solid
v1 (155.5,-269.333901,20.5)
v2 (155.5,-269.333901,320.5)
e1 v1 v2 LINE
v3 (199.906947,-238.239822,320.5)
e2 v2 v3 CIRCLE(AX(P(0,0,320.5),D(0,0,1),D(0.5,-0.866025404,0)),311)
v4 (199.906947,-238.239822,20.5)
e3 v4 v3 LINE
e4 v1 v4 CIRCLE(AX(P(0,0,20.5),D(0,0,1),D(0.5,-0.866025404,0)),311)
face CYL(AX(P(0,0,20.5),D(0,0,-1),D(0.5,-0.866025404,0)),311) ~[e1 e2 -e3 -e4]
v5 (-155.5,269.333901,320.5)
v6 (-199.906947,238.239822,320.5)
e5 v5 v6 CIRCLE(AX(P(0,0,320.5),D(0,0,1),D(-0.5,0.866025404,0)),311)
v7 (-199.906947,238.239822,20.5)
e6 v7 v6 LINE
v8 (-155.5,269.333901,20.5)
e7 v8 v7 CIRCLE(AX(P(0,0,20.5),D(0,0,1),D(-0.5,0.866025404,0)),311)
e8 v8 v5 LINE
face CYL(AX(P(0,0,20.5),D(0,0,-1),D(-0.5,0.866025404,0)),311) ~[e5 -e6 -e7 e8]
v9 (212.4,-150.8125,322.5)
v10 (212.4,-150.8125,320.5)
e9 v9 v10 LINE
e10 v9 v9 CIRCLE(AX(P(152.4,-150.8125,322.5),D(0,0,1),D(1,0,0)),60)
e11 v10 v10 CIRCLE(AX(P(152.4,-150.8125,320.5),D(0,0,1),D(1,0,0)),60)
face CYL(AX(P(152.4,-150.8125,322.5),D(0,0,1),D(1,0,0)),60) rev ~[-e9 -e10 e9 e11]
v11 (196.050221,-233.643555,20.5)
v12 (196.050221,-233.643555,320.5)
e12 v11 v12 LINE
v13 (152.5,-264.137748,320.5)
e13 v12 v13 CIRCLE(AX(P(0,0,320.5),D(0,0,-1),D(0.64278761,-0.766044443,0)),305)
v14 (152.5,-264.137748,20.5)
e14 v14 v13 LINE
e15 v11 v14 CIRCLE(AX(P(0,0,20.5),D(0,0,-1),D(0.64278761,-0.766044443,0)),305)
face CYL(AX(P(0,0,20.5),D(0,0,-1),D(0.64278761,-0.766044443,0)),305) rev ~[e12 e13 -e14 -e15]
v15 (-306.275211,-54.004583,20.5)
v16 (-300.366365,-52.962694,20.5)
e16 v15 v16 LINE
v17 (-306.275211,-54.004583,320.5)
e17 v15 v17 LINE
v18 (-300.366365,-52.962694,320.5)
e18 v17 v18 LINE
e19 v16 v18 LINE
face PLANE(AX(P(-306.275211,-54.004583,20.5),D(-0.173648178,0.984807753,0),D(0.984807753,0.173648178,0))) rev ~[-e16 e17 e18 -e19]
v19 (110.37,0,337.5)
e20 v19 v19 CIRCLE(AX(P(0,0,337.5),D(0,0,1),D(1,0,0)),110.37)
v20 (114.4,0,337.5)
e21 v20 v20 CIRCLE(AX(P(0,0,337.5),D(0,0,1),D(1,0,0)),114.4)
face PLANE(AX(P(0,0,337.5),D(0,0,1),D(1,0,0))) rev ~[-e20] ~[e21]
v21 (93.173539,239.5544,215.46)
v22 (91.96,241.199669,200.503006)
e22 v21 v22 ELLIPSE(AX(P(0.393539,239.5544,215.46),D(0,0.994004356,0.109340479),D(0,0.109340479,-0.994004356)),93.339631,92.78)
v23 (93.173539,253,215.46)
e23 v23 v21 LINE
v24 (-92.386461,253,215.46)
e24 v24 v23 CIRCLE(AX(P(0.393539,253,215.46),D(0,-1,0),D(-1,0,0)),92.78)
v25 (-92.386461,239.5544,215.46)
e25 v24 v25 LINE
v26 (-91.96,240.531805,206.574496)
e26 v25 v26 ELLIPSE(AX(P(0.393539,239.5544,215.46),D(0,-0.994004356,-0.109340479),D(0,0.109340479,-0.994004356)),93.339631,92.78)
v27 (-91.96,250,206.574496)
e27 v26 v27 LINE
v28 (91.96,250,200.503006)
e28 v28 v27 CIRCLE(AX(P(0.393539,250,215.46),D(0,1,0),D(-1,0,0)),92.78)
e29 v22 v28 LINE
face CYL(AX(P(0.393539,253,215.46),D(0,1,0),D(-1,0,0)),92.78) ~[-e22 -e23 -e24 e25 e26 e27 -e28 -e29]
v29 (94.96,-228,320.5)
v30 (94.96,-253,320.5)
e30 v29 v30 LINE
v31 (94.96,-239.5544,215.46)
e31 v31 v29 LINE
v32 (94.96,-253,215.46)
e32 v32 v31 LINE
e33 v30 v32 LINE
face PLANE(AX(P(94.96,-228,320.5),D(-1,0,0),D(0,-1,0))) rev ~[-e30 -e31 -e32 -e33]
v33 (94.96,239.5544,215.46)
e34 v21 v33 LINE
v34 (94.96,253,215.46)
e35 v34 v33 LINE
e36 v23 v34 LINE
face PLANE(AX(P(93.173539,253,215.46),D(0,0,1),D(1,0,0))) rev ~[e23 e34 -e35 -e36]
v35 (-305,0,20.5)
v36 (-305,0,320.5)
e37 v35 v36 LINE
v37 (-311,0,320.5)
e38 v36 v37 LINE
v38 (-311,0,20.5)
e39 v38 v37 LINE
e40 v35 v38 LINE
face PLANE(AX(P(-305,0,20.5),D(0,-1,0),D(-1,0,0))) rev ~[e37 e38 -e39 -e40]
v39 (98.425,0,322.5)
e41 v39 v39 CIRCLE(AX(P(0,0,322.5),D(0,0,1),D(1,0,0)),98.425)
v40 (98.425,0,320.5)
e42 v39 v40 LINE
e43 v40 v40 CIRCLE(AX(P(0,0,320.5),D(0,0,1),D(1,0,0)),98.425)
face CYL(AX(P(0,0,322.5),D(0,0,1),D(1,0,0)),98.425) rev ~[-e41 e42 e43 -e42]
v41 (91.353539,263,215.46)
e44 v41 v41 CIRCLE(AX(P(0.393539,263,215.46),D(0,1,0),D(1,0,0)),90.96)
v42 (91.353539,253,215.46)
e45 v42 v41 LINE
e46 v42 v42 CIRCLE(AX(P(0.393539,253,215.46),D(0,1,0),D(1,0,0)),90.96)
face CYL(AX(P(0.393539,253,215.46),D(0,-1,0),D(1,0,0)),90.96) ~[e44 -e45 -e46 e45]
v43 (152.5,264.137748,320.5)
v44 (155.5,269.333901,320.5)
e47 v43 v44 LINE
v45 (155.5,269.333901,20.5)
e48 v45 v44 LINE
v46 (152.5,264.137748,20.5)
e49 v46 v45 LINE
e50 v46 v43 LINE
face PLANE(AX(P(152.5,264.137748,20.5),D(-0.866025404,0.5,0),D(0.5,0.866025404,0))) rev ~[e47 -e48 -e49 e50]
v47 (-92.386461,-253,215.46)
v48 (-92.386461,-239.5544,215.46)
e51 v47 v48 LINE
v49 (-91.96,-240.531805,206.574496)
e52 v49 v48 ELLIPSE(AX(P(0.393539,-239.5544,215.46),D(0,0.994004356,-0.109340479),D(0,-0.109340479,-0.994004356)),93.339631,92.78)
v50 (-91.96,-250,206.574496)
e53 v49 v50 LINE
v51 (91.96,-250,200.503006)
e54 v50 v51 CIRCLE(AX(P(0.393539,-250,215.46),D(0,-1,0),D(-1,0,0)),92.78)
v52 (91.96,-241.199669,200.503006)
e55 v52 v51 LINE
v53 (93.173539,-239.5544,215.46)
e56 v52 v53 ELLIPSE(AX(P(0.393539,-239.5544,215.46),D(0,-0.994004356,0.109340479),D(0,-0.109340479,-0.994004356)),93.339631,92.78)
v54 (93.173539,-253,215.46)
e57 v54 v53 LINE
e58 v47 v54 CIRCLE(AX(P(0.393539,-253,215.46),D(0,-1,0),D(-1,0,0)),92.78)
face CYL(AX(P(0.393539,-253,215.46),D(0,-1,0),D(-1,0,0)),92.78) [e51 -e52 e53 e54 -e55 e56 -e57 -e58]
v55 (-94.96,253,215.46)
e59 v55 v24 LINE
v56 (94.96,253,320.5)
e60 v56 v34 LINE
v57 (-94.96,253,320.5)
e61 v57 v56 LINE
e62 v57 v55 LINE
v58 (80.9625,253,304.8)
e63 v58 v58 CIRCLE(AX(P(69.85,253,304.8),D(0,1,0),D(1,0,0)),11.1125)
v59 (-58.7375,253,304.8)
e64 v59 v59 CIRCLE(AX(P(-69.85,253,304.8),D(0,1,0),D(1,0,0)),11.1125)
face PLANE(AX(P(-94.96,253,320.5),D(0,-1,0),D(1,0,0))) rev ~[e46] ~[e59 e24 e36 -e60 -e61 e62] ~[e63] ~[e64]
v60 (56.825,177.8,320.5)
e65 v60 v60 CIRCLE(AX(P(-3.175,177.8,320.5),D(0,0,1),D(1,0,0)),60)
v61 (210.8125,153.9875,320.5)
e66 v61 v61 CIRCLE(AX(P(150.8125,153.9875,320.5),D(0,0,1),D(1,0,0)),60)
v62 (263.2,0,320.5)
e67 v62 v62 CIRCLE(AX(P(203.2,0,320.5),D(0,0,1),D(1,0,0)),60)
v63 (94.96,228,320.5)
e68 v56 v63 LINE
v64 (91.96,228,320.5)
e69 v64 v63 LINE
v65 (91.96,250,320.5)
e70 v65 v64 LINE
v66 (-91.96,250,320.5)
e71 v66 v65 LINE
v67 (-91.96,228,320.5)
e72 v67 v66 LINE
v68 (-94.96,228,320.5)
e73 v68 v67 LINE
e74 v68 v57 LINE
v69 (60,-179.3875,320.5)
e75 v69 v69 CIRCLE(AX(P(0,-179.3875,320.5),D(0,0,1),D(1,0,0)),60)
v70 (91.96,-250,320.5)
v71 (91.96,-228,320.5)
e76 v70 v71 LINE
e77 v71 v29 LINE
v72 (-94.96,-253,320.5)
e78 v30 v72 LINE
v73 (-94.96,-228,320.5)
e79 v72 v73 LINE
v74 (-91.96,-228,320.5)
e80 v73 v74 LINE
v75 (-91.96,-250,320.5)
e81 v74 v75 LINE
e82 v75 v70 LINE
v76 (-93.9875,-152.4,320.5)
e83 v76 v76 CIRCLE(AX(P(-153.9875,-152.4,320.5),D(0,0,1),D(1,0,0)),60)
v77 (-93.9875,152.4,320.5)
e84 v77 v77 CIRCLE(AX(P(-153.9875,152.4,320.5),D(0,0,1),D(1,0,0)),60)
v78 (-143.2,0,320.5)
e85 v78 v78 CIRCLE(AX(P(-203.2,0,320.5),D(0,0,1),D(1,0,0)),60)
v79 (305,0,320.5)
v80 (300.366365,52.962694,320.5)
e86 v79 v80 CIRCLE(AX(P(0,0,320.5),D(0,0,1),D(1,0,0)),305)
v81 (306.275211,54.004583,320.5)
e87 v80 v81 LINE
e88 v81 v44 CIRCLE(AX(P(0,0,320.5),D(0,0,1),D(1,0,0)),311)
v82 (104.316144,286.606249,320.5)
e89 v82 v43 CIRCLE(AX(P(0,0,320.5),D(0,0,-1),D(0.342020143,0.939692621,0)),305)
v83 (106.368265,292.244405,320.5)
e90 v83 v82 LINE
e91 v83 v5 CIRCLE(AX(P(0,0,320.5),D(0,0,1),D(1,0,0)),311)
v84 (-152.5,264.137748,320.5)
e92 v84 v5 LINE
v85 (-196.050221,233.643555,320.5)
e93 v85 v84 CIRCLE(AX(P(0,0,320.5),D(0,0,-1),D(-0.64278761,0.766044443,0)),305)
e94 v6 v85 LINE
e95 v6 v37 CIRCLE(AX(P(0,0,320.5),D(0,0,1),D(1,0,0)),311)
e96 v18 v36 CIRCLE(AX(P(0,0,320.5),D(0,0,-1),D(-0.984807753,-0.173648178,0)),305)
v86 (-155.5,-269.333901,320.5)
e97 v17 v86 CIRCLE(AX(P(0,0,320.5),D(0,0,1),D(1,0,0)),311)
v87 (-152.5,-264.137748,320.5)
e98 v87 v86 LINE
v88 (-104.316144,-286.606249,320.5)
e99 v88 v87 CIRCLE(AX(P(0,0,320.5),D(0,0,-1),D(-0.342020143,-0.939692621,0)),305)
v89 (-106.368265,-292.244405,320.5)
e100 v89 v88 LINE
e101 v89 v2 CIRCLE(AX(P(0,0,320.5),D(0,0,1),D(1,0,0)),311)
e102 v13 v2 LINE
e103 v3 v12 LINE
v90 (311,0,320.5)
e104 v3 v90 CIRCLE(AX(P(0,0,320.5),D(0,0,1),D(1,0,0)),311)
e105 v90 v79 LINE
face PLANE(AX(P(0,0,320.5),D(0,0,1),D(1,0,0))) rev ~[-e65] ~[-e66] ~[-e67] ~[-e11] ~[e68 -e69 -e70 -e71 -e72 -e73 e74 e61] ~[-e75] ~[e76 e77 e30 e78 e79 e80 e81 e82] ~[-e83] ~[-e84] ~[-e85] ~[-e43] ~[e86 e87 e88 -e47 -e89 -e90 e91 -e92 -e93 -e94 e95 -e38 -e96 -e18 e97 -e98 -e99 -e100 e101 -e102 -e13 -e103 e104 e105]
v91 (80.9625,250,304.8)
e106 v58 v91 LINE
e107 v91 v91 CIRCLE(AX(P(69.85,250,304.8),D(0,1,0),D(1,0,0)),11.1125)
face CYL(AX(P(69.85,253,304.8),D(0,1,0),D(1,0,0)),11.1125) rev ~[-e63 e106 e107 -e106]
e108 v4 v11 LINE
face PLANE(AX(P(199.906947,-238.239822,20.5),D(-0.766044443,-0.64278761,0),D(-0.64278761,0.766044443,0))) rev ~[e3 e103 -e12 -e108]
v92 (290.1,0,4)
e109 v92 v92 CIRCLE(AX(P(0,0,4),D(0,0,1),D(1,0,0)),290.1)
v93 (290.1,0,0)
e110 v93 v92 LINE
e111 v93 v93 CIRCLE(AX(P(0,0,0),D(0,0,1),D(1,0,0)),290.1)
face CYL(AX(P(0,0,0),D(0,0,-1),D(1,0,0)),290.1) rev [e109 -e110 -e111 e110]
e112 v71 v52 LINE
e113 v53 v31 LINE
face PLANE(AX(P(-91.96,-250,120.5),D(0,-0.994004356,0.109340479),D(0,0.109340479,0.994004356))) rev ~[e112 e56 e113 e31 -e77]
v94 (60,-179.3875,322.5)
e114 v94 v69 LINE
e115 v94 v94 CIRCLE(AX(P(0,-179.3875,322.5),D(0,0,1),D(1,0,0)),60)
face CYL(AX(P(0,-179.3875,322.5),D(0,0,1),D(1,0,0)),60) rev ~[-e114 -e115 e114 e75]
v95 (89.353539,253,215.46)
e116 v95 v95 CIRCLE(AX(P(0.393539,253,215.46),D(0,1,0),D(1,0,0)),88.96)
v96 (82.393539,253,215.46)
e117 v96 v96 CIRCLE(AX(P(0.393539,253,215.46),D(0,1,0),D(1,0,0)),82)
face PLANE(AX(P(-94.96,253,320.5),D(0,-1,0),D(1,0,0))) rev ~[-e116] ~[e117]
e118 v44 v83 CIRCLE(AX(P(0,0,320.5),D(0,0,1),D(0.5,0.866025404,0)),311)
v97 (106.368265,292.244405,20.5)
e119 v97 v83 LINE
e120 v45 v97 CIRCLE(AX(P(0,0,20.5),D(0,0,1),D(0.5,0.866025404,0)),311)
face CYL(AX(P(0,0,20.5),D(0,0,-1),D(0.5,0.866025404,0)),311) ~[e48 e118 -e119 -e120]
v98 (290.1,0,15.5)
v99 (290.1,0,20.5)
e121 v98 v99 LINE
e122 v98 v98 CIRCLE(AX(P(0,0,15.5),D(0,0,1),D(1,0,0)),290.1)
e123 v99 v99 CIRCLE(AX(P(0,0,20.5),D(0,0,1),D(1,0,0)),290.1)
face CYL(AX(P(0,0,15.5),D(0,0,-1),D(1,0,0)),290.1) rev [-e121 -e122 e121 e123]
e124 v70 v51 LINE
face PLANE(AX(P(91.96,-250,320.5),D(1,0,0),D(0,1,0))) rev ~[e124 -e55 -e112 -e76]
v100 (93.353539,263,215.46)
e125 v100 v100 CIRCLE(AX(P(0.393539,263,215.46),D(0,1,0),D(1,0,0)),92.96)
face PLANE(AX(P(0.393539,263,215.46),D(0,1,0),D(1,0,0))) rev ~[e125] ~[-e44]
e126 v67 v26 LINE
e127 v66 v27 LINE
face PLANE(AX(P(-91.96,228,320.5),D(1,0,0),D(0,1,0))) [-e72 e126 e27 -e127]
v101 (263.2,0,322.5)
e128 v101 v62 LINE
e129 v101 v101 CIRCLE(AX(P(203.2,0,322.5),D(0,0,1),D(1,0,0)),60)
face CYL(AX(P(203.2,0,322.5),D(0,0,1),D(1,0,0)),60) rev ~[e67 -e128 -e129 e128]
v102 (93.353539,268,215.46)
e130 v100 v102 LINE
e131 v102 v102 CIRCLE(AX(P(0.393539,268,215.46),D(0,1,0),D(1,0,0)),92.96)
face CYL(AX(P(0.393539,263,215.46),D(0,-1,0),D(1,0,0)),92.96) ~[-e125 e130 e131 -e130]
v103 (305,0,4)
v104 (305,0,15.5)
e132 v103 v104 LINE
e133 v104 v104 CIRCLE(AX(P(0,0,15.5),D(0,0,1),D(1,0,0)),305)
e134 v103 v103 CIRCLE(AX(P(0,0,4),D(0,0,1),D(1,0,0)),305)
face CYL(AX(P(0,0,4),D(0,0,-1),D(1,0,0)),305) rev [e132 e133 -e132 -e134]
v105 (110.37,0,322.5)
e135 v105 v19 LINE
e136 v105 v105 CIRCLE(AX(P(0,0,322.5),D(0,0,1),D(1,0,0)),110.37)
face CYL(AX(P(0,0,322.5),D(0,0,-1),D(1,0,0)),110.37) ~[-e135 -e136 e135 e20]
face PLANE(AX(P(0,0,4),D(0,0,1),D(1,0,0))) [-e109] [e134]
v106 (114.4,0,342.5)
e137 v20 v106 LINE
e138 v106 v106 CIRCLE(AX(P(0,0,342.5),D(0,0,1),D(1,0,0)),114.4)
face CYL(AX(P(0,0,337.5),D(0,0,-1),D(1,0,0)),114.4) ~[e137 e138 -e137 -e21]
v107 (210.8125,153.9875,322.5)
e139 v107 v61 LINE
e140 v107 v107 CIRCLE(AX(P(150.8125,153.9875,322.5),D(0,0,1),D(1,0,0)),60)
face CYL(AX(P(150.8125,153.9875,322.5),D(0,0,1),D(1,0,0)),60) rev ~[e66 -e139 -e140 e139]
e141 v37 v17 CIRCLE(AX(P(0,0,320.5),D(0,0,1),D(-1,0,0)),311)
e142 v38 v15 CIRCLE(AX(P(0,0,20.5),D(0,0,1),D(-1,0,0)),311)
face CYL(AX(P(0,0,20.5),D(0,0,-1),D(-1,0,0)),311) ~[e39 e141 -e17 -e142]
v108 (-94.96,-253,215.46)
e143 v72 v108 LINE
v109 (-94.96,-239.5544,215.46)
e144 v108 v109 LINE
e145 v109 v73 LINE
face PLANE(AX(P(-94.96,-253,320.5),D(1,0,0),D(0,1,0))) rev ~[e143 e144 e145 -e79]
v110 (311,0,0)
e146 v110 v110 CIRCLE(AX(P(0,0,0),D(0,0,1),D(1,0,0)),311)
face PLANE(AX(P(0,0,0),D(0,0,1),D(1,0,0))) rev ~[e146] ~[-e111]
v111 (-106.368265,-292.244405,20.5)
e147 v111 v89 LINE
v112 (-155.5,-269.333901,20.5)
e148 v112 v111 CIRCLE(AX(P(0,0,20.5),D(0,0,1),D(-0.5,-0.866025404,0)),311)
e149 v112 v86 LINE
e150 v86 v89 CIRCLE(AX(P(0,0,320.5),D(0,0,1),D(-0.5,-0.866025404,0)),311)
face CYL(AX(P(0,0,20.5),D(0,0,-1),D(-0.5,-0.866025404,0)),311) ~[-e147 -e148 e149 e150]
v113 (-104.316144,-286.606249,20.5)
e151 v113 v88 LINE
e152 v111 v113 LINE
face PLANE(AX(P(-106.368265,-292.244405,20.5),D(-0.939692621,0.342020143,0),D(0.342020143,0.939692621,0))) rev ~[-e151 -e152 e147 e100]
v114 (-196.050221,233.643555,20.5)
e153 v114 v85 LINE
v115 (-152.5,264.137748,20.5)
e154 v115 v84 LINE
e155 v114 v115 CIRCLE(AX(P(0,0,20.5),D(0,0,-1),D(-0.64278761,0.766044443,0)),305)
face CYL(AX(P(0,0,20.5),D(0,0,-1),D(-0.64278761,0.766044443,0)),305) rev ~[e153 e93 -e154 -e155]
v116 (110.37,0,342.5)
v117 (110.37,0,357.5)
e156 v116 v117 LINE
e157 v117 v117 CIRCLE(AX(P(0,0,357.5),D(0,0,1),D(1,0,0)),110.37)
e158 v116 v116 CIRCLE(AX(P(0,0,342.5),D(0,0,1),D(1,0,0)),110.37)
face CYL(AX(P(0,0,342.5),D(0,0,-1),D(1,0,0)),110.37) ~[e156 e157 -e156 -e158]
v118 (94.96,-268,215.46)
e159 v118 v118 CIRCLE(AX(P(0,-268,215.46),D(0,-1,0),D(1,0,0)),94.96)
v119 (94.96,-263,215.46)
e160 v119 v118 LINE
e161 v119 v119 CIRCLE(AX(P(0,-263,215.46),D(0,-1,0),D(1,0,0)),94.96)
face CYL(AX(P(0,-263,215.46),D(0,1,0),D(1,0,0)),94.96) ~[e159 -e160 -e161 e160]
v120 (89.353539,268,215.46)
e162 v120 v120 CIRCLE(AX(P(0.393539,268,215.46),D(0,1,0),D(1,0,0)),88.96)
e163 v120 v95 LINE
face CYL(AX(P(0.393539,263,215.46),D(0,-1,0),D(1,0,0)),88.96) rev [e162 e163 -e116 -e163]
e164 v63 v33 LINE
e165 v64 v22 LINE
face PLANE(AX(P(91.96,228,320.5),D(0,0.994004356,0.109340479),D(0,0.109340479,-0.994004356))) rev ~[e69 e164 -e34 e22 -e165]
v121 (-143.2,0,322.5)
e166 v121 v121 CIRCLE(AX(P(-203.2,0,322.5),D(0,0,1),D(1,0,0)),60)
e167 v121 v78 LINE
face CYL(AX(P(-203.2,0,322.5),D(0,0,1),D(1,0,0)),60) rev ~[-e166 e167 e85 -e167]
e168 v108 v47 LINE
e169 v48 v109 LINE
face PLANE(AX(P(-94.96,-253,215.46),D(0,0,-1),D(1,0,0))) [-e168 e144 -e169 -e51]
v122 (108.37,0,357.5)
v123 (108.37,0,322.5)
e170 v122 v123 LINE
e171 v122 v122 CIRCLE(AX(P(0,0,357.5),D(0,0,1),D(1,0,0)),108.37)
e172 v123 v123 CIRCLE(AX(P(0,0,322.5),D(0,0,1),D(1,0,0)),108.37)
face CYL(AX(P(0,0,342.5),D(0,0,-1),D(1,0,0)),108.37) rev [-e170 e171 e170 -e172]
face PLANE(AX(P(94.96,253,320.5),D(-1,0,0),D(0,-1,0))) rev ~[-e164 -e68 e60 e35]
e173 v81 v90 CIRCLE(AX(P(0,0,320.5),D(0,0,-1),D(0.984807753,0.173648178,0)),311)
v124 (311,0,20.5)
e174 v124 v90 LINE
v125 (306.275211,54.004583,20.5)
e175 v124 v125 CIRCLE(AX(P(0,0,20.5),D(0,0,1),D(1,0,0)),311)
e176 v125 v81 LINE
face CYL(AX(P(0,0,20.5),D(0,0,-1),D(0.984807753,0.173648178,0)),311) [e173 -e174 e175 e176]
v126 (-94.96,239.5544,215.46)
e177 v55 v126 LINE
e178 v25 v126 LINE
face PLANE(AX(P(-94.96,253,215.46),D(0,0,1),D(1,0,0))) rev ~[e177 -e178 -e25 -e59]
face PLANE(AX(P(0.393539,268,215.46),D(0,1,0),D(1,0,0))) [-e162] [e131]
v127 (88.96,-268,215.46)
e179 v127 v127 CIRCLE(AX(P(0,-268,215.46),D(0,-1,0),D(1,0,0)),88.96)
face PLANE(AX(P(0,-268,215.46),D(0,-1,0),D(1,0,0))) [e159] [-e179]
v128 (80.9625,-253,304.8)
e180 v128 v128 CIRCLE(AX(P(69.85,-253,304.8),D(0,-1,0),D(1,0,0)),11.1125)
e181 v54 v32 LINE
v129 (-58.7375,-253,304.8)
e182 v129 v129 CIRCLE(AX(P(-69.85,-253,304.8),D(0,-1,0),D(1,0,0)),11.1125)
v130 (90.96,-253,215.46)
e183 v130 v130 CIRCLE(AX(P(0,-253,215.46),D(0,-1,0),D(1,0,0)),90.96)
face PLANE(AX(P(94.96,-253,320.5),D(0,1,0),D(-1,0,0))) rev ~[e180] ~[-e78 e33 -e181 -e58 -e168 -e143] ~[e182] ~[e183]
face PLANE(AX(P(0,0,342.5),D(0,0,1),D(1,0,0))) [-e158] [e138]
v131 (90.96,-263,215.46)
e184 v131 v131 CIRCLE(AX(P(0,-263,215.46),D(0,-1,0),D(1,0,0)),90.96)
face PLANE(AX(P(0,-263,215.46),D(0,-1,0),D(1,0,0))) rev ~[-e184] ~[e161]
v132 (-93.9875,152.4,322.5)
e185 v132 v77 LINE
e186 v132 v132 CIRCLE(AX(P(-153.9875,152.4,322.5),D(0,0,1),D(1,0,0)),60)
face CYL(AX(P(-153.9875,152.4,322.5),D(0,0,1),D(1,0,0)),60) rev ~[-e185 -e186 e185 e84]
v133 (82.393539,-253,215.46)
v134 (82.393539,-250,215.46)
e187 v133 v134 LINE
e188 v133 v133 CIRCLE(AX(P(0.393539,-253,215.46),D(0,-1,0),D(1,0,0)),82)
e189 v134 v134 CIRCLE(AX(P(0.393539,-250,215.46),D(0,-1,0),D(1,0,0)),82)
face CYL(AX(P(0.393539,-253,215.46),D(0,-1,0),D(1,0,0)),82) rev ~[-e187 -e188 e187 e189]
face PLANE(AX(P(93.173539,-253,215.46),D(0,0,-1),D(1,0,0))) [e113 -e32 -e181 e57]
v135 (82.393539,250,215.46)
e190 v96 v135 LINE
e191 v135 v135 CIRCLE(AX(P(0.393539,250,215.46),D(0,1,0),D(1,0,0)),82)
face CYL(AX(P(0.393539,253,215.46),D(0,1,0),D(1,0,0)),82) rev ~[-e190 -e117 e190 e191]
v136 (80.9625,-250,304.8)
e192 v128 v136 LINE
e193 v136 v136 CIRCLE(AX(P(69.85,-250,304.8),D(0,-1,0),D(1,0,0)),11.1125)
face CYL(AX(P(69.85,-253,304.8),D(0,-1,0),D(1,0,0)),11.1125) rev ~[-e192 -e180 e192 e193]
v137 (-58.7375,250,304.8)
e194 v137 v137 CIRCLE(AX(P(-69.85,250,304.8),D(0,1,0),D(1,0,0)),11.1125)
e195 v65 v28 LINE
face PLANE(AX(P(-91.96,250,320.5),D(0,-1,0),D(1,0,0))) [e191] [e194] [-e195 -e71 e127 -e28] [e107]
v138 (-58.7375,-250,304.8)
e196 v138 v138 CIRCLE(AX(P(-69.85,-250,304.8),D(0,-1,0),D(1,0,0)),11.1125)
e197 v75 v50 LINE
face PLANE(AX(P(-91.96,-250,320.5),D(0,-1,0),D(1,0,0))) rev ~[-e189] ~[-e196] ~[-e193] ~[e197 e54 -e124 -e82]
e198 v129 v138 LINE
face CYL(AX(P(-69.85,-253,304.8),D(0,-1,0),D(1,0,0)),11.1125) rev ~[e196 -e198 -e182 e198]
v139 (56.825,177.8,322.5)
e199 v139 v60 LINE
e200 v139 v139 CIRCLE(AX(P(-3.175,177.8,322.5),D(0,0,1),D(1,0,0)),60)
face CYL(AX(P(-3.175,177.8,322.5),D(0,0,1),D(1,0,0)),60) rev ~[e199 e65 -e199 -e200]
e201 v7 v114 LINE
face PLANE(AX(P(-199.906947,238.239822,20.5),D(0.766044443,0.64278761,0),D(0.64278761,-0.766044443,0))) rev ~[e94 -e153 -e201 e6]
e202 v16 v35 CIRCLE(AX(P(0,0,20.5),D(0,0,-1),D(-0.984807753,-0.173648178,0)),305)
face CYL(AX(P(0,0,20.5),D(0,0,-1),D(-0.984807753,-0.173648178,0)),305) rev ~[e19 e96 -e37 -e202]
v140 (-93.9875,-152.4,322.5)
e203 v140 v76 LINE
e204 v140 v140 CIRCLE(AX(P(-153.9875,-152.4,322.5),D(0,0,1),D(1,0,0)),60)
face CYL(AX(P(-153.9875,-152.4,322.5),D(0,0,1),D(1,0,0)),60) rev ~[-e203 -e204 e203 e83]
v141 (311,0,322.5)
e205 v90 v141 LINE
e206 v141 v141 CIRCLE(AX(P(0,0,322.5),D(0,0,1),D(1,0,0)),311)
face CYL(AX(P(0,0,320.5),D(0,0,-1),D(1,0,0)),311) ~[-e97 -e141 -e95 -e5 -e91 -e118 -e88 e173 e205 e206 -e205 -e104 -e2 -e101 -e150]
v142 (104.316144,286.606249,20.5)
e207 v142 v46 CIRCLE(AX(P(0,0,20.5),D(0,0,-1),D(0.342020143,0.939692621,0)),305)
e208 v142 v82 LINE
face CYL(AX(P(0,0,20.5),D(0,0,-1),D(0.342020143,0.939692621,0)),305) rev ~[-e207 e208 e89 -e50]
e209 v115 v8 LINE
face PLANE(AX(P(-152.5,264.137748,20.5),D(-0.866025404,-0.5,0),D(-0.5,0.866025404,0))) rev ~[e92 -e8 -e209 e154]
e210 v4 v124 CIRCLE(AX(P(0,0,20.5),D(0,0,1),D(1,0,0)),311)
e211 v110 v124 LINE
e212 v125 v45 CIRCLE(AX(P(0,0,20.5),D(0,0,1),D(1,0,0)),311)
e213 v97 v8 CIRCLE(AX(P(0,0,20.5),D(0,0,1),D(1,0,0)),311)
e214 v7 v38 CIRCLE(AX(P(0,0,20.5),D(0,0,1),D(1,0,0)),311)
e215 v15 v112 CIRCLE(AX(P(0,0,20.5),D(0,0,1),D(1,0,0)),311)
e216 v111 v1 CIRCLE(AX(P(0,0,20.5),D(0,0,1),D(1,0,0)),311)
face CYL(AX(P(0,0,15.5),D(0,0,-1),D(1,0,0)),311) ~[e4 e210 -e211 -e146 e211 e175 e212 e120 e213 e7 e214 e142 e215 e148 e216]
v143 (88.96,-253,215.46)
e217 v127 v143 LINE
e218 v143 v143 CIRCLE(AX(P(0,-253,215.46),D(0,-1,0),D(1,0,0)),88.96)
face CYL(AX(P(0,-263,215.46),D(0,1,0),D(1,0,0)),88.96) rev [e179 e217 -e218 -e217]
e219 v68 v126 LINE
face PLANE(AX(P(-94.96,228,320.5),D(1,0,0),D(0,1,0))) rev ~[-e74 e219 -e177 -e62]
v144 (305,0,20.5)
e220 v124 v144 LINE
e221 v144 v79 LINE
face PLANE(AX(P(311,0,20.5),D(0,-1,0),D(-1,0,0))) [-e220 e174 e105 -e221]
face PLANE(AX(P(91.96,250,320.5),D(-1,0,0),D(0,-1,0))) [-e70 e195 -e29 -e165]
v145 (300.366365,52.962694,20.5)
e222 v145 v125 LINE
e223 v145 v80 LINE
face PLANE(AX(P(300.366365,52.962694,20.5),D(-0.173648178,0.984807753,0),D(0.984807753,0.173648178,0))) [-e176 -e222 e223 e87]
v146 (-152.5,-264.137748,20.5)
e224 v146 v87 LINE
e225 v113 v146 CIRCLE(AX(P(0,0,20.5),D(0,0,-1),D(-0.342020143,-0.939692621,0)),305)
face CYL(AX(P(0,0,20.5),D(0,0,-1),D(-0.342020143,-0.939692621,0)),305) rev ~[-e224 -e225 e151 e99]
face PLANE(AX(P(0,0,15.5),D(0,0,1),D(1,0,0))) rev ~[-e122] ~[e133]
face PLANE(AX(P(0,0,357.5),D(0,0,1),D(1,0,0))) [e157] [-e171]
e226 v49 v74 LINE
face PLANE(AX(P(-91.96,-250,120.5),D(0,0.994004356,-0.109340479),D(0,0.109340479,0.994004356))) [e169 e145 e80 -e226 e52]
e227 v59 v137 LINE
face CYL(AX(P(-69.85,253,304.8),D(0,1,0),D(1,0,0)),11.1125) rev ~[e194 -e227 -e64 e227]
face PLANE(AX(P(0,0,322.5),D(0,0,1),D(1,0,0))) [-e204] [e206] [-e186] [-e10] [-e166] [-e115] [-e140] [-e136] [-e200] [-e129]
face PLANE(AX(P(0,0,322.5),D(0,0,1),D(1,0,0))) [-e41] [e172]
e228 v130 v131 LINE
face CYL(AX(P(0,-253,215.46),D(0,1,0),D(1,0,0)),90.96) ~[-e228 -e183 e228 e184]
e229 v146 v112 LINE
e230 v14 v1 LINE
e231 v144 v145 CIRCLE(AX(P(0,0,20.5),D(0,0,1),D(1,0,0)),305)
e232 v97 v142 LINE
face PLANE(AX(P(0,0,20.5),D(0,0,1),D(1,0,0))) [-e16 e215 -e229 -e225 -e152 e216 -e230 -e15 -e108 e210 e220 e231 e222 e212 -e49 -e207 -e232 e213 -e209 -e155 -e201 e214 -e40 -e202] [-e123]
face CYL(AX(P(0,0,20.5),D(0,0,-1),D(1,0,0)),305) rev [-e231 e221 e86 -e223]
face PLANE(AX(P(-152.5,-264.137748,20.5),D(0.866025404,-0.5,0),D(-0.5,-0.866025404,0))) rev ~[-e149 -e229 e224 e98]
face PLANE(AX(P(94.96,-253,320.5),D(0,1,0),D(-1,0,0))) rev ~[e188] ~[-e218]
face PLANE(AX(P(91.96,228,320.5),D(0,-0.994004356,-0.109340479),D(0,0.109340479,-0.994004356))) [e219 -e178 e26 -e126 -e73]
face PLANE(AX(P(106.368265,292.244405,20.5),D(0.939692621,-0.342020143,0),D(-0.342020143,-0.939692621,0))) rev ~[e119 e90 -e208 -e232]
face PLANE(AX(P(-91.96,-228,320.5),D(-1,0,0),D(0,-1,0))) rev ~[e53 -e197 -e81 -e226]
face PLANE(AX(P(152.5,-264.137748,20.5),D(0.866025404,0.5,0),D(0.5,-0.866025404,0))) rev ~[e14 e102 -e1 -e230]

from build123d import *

# Parameters (mm, degrees)
SKETCH1_R                   = 311
SKETCH1_R_2                 = 290.1
EXTRUDE1_DEPTH              = 4
SKETCH3_R                   = 311
SKETCH3_R_2                 = 305
EXTRUDE2_DEPTH              = 11.5
SKETCH4_R                   = 311
SKETCH4_R_2                 = 290.1
EXTRUDE3_DEPTH              = 5
EXTRUDE4_DEPTH              = 300
SKETCH6_R                   = 311
EXTRUDE5_DEPTH              = 2
SKETCH7_R                   = 110.37
SKETCH7_R_2                 = 108.37
EXTRUDE6_DEPTH              = 15
SKETCH8_R                   = 114.4
SKETCH8_R_2                 = 108.37
EXTRUDE7_DEPTH              = 5
SKETCH9_R                   = 110.37
SKETCH9_R_2                 = 108.37
EXTRUDE8_DEPTH              = 15
EXTRUDE9_DEPTH              = 200
SKETCH11_R                  = 90.96
SKETCH11_R_2                = 88.96
EXTRUDE10_DEPTH             = 10
SKETCH13_R                  = 92.96
SKETCH13_R_2                = 88.96
EXTRUDE11_DEPTH             = 5
SKETCH14_R                  = 90.96
SKETCH14_R_2                = 88.96
EXTRUDE12_DEPTH             = 10
SKETCH15_R                  = 94.96
SKETCH15_R_2                = 88.96
EXTRUDE13_DEPTH             = 5
EXTRUDE14_REACH             = 221.04
EXTRUDE14_DIRECTION_2_REACH = 404.96
EXTRUDE15_REACH             = 221.04
EXTRUDE15_DIRECTION_2_REACH = 404.96
SKETCH18_R                  = 11.1125
SKETCH18_R_2                = 82
EXTRUDE16_DEPTH             = 25
SKETCH19_R                  = 11.1125
SKETCH19_R_2                = 82
EXTRUDE18_DEPTH             = 25
SKETCH20_R                  = 98.425
SKETCH20_R_2                = 60
EXTRUDE19_DEPTH             = 2


with BuildPart() as part:
    # Sketch1 → Extrude1 (new body)
    with BuildSketch(Plane.XY):
        Circle(SKETCH1_R)
        Circle(SKETCH1_R_2, mode=Mode.SUBTRACT)
    extrude(amount=EXTRUDE1_DEPTH)

    # Sketch3 → Extrude2 (add)
    with BuildSketch(Plane.XY.offset(4)):
        Circle(SKETCH3_R)
        Circle(SKETCH3_R_2, mode=Mode.SUBTRACT)
    extrude(amount=EXTRUDE2_DEPTH)

    # Sketch4 → Extrude3 (add)
    with BuildSketch(Plane.XY.offset(15.5)):
        Circle(SKETCH4_R)
        Circle(SKETCH4_R_2, mode=Mode.SUBTRACT)
    extrude(amount=EXTRUDE3_DEPTH)

    # Sketch5 → Extrude4 (add)
    with BuildSketch(Plane.XY.offset(20.5)):
        with BuildLine():
            Line((300.366364669, 52.962694188), (306.275211187, 54.004583254))
            ThreePointArc((306.275211187, 54.004583254), (309.816551107, 27.105435995), (311, 0))
            Line((311, 0), (305, 0))
            ThreePointArc((305, 0), (303.839382918, 26.582501538), (300.366364669, 52.962694188))
        make_face()
        with BuildLine():
            Line((152.5, 264.137748154), (155.5, 269.333900577))
            ThreePointArc((155.5, 269.333900577), (131.434279401, 281.861721768), (106.368264574, 292.244405064))
            Line((106.368264574, 292.244405064), (104.316143714, 286.60624934))
            ThreePointArc((104.316143714, 286.60624934), (128.898569831, 276.423875046), (152.5, 264.137748154))
        make_face()
        with BuildLine():
            Line((-152.5, 264.137748154), (-155.5, 269.333900577))
            ThreePointArc((-155.5, 269.333900577), (-178.382271705, 254.756285774), (-199.906946613, 238.23982181))
            Line((-199.906946613, 238.23982181), (-196.050220954, 233.643555151))
            ThreePointArc((-196.050220954, 233.643555151), (-174.940813087, 249.841373508), (-152.5, 264.137748154))
        make_face()
        with BuildLine():
            Line((-305, 0), (-311, 0))
            ThreePointArc((-311, 0), (-309.816551107, -27.105435995), (-306.275211187, -54.004583254))
            Line((-306.275211187, -54.004583254), (-300.366364669, -52.962694188))
            ThreePointArc((-300.366364669, -52.962694188), (-303.839382918, -26.582501538), (-305, 0))
        make_face()
        with BuildLine():
            Line((-152.5, -264.137748154), (-155.5, -269.333900577))
            ThreePointArc((-155.5, -269.333900577), (-131.434279401, -281.861721768), (-106.368264574, -292.244405064))
            Line((-106.368264574, -292.244405064), (-104.316143714, -286.60624934))
            ThreePointArc((-104.316143714, -286.60624934), (-128.898569831, -276.423875046), (-152.5, -264.137748154))
        make_face()
        with BuildLine():
            Line((152.5, -264.137748154), (155.5, -269.333900577))
            ThreePointArc((155.5, -269.333900577), (178.382271705, -254.756285774), (199.906946613, -238.23982181))
            Line((199.906946613, -238.23982181), (196.050220954, -233.643555151))
            ThreePointArc((196.050220954, -233.643555151), (174.940813087, -249.841373508), (152.5, -264.137748154))
        make_face()
    extrude(amount=EXTRUDE4_DEPTH)

    # Sketch6 → Extrude5 (add)
    with BuildSketch(Plane.XY.offset(320.5)):
        Circle(SKETCH6_R)
    extrude(amount=EXTRUDE5_DEPTH)

    # Sketch7 → Extrude6 (add)
    with BuildSketch(Plane.XY.offset(322.5)):
        Circle(SKETCH7_R)
        Circle(SKETCH7_R_2, mode=Mode.SUBTRACT)
    extrude(amount=EXTRUDE6_DEPTH)

    # Sketch8 → Extrude7 (add)
    with BuildSketch(Plane.XY.offset(337.5)):
        Circle(SKETCH8_R)
        Circle(SKETCH8_R_2, mode=Mode.SUBTRACT)
    extrude(amount=EXTRUDE7_DEPTH)

    # Sketch9 → Extrude8 (add)
    with BuildSketch(Plane.XY.offset(342.5)):
        Circle(SKETCH9_R)
        Circle(SKETCH9_R_2, mode=Mode.SUBTRACT)
    extrude(amount=EXTRUDE8_DEPTH)

    # Sketch10 → Extrude9 (add)
    with BuildSketch(Plane(origin=(0, 0, 320.5), x_dir=(-1, 0, 0), z_dir=(0, 0, -1))):
        Polygon((94.96, 250), (94.96, 228), (91.96, 228), (91.96, 250), (-91.96, 250), (-91.96, 228), (-94.96, 228), (-94.96, 250), (-94.96, 253), (0, 253), (94.96, 253), align=None)
        Polygon((94.96, -250), (94.96, -228), (91.96, -228), (91.96, -250), (-91.96, -250), (-91.96, -228), (-94.96, -228), (-94.96, -250), (-94.96, -253), (94.96, -253), align=None)
    extrude(amount=EXTRUDE9_DEPTH)

    # Sketch11 → Extrude10 (add)
    with BuildSketch(Plane(origin=(0, 253, 0), x_dir=(1, 0, 0), z_dir=(0, 1, 0))):
        with Locations((0.393539239, -215.46)):
            Circle(SKETCH11_R)
        with Locations((0.393539239, -215.46)):
            Circle(SKETCH11_R_2, mode=Mode.SUBTRACT)
    extrude(amount=EXTRUDE10_DEPTH)

    # Sketch13 → Extrude11 (add)
    with BuildSketch(Plane(origin=(0, 263, 0), x_dir=(1, 0, 0), z_dir=(0, 1, 0))):
        with Locations((0.393539239, -215.46)):
            Circle(SKETCH13_R)
        with Locations((0.393539239, -215.46)):
            Circle(SKETCH13_R_2, mode=Mode.SUBTRACT)
    extrude(amount=EXTRUDE11_DEPTH)

    # Sketch14 → Extrude12 (add)
    with BuildSketch(Plane.XZ.offset(253)):
        with Locations((0, 215.46)):
            Circle(SKETCH14_R)
        with Locations((0, 215.46)):
            Circle(SKETCH14_R_2, mode=Mode.SUBTRACT)
    extrude(amount=EXTRUDE12_DEPTH)

    # Sketch15 → Extrude13 (add)
    with BuildSketch(Plane.XZ.offset(263)):
        with Locations((0, 215.46)):
            Circle(SKETCH15_R)
        with Locations((0, 215.46)):
            Circle(SKETCH15_R_2, mode=Mode.SUBTRACT)
    extrude(amount=EXTRUDE13_DEPTH)

    # Extrude14: up to this face of the body (flat: up to its plane)
    extrude14_end = Plane(part.part.faces().sort_by_distance((94.96, 240.5, 220.5))[0])
    # Sketch16 → Extrude14 (cut, up to the picked face)
    with BuildSketch(Plane.ZY.offset(-91.96), mode=Mode.PRIVATE) as extrude14_sk1:
        Polygon((120.5, 228), (320.5, 228), (120.5, 250), align=None)
    extrude14_tool1 = split(extrude(extrude14_sk1.sketch, amount=-EXTRUDE14_REACH, mode=Mode.PRIVATE), bisect_by=extrude14_end, keep=Keep.BOTH, mode=Mode.PRIVATE)
    add(extrude14_tool1.solids().sort_by_distance((91.96, 235.333333, 187.166667))[0], mode=Mode.SUBTRACT)

    # Extrude14 direction 2: up to this face of the body (flat: up to its plane)
    extrude14_direction_2_end = Plane(part.part.faces().sort_by_distance((-94.96, 240.5, 220.5))[0])
    # Sketch16 → Extrude14 direction 2 (cut, up to the picked face)
    with BuildSketch(Plane.ZY.offset(-91.96), mode=Mode.PRIVATE) as extrude14_direction_2_sk1:
        Polygon((120.5, 228), (320.5, 228), (120.5, 250), align=None)
    extrude14_direction_2_tool1 = split(extrude(extrude14_direction_2_sk1.sketch, amount=EXTRUDE14_DIRECTION_2_REACH, mode=Mode.PRIVATE), bisect_by=extrude14_direction_2_end, keep=Keep.BOTH, mode=Mode.PRIVATE)
    add(extrude14_direction_2_tool1.solids().sort_by_distance((91.96, 235.333333, 187.166667))[0], mode=Mode.SUBTRACT)

    # Extrude15: up to this face of the body (flat: up to its plane)
    extrude15_end = Plane(part.part.faces().sort_by_distance((-94.96, -240.5, 220.5))[0])
    # Sketch17 → Extrude15 (cut, up to the picked face)
    with BuildSketch(Plane(origin=(-91.96, 0, 0), x_dir=(0, 0, -1), z_dir=(1, 0, 0)), mode=Mode.PRIVATE) as extrude15_sk1:
        Polygon((-320.5, -228), (-120.5, -228), (-120.5, -250), align=None)
    extrude15_tool1 = split(extrude(extrude15_sk1.sketch, amount=-EXTRUDE15_REACH, mode=Mode.PRIVATE), bisect_by=extrude15_end, keep=Keep.BOTH, mode=Mode.PRIVATE)
    add(extrude15_tool1.solids().sort_by_distance((-91.96, -235.333333, 187.166667))[0], mode=Mode.SUBTRACT)

    # Extrude15 direction 2: up to this face of the body (flat: up to its plane)
    extrude15_direction_2_end = Plane(part.part.faces().sort_by_distance((94.96, -240.5, 220.5))[0])
    # Sketch17 → Extrude15 direction 2 (cut, up to the picked face)
    with BuildSketch(Plane(origin=(-91.96, 0, 0), x_dir=(0, 0, -1), z_dir=(1, 0, 0)), mode=Mode.PRIVATE) as extrude15_direction_2_sk1:
        Polygon((-320.5, -228), (-120.5, -228), (-120.5, -250), align=None)
    extrude15_direction_2_tool1 = split(extrude(extrude15_direction_2_sk1.sketch, amount=EXTRUDE15_DIRECTION_2_REACH, mode=Mode.PRIVATE), bisect_by=extrude15_direction_2_end, keep=Keep.BOTH, mode=Mode.PRIVATE)
    add(extrude15_direction_2_tool1.solids().sort_by_distance((-91.96, -235.333333, 187.166667))[0], mode=Mode.SUBTRACT)

    # Sketch18 → Extrude16 (cut)
    with BuildSketch(Plane(origin=(0, 253, 0), x_dir=(1, 0, 0), z_dir=(0, 1, 0))):
        with Locations((69.85, -304.8)):
            Circle(SKETCH18_R)
        with Locations((-69.85, -304.8)):
            Circle(SKETCH18_R)
        with Locations((0.393539239, -215.46)):
            Circle(SKETCH18_R_2)
        with BuildLine():
            Line((93.173539239, -215.46), (94.96, -215.46))
            Line((94.96, -215.46), (94.96, -120.5))
            Line((94.96, -120.5), (-94.96, -120.5))
            Line((-94.96, -120.5), (-94.96, -215.46))
            Line((-94.96, -215.46), (-92.386460761, -215.46))
            ThreePointArc((-92.386460761, -215.46), (0.393539239, -122.68), (93.173539239, -215.46))
        make_face()
    extrude(amount=-EXTRUDE16_DEPTH, mode=Mode.SUBTRACT)

    # Sketch19 → Extrude18 (cut)
    with BuildSketch(Plane.XZ.offset(253)):
        with Locations((69.85, 304.8)):
            Circle(SKETCH19_R)
        with Locations((-69.85, 304.8)):
            Circle(SKETCH19_R)
        with Locations((0.393539239, 215.46)):
            Circle(SKETCH19_R_2)
        with BuildLine():
            Line((93.173539239, 215.46), (94.96, 215.46))
            Line((94.96, 215.46), (94.96, 120.5))
            Line((94.96, 120.5), (-94.96, 120.5))
            Line((-94.96, 120.5), (-94.96, 215.46))
            Line((-94.96, 215.46), (-92.386460761, 215.46))
            ThreePointArc((-92.386460761, 215.46), (0.393539239, 122.68), (93.173539239, 215.46))
        make_face()
    extrude(amount=-EXTRUDE18_DEPTH, mode=Mode.SUBTRACT)

    # Sketch20 → Extrude19 (cut)
    with BuildSketch(Plane.XY.offset(322.5)):
        Circle(SKETCH20_R)
        with Locations((203.2, 0)):
            Circle(SKETCH20_R_2)
        with Locations((150.8125, 153.9875)):
            Circle(SKETCH20_R_2)
        with Locations((-3.175, 177.8)):
            Circle(SKETCH20_R_2)
        with Locations((-153.9875, 152.4)):
            Circle(SKETCH20_R_2)
        with Locations((-203.2, 0)):
            Circle(SKETCH20_R_2)
        with Locations((-153.9875, -152.4)):
            Circle(SKETCH20_R_2)
        with Locations((0, -179.3875)):
            Circle(SKETCH20_R_2)
        with Locations((152.4, -150.8125)):
            Circle(SKETCH20_R_2)
    extrude(amount=-EXTRUDE19_DEPTH, mode=Mode.SUBTRACT)


solid = part.part
